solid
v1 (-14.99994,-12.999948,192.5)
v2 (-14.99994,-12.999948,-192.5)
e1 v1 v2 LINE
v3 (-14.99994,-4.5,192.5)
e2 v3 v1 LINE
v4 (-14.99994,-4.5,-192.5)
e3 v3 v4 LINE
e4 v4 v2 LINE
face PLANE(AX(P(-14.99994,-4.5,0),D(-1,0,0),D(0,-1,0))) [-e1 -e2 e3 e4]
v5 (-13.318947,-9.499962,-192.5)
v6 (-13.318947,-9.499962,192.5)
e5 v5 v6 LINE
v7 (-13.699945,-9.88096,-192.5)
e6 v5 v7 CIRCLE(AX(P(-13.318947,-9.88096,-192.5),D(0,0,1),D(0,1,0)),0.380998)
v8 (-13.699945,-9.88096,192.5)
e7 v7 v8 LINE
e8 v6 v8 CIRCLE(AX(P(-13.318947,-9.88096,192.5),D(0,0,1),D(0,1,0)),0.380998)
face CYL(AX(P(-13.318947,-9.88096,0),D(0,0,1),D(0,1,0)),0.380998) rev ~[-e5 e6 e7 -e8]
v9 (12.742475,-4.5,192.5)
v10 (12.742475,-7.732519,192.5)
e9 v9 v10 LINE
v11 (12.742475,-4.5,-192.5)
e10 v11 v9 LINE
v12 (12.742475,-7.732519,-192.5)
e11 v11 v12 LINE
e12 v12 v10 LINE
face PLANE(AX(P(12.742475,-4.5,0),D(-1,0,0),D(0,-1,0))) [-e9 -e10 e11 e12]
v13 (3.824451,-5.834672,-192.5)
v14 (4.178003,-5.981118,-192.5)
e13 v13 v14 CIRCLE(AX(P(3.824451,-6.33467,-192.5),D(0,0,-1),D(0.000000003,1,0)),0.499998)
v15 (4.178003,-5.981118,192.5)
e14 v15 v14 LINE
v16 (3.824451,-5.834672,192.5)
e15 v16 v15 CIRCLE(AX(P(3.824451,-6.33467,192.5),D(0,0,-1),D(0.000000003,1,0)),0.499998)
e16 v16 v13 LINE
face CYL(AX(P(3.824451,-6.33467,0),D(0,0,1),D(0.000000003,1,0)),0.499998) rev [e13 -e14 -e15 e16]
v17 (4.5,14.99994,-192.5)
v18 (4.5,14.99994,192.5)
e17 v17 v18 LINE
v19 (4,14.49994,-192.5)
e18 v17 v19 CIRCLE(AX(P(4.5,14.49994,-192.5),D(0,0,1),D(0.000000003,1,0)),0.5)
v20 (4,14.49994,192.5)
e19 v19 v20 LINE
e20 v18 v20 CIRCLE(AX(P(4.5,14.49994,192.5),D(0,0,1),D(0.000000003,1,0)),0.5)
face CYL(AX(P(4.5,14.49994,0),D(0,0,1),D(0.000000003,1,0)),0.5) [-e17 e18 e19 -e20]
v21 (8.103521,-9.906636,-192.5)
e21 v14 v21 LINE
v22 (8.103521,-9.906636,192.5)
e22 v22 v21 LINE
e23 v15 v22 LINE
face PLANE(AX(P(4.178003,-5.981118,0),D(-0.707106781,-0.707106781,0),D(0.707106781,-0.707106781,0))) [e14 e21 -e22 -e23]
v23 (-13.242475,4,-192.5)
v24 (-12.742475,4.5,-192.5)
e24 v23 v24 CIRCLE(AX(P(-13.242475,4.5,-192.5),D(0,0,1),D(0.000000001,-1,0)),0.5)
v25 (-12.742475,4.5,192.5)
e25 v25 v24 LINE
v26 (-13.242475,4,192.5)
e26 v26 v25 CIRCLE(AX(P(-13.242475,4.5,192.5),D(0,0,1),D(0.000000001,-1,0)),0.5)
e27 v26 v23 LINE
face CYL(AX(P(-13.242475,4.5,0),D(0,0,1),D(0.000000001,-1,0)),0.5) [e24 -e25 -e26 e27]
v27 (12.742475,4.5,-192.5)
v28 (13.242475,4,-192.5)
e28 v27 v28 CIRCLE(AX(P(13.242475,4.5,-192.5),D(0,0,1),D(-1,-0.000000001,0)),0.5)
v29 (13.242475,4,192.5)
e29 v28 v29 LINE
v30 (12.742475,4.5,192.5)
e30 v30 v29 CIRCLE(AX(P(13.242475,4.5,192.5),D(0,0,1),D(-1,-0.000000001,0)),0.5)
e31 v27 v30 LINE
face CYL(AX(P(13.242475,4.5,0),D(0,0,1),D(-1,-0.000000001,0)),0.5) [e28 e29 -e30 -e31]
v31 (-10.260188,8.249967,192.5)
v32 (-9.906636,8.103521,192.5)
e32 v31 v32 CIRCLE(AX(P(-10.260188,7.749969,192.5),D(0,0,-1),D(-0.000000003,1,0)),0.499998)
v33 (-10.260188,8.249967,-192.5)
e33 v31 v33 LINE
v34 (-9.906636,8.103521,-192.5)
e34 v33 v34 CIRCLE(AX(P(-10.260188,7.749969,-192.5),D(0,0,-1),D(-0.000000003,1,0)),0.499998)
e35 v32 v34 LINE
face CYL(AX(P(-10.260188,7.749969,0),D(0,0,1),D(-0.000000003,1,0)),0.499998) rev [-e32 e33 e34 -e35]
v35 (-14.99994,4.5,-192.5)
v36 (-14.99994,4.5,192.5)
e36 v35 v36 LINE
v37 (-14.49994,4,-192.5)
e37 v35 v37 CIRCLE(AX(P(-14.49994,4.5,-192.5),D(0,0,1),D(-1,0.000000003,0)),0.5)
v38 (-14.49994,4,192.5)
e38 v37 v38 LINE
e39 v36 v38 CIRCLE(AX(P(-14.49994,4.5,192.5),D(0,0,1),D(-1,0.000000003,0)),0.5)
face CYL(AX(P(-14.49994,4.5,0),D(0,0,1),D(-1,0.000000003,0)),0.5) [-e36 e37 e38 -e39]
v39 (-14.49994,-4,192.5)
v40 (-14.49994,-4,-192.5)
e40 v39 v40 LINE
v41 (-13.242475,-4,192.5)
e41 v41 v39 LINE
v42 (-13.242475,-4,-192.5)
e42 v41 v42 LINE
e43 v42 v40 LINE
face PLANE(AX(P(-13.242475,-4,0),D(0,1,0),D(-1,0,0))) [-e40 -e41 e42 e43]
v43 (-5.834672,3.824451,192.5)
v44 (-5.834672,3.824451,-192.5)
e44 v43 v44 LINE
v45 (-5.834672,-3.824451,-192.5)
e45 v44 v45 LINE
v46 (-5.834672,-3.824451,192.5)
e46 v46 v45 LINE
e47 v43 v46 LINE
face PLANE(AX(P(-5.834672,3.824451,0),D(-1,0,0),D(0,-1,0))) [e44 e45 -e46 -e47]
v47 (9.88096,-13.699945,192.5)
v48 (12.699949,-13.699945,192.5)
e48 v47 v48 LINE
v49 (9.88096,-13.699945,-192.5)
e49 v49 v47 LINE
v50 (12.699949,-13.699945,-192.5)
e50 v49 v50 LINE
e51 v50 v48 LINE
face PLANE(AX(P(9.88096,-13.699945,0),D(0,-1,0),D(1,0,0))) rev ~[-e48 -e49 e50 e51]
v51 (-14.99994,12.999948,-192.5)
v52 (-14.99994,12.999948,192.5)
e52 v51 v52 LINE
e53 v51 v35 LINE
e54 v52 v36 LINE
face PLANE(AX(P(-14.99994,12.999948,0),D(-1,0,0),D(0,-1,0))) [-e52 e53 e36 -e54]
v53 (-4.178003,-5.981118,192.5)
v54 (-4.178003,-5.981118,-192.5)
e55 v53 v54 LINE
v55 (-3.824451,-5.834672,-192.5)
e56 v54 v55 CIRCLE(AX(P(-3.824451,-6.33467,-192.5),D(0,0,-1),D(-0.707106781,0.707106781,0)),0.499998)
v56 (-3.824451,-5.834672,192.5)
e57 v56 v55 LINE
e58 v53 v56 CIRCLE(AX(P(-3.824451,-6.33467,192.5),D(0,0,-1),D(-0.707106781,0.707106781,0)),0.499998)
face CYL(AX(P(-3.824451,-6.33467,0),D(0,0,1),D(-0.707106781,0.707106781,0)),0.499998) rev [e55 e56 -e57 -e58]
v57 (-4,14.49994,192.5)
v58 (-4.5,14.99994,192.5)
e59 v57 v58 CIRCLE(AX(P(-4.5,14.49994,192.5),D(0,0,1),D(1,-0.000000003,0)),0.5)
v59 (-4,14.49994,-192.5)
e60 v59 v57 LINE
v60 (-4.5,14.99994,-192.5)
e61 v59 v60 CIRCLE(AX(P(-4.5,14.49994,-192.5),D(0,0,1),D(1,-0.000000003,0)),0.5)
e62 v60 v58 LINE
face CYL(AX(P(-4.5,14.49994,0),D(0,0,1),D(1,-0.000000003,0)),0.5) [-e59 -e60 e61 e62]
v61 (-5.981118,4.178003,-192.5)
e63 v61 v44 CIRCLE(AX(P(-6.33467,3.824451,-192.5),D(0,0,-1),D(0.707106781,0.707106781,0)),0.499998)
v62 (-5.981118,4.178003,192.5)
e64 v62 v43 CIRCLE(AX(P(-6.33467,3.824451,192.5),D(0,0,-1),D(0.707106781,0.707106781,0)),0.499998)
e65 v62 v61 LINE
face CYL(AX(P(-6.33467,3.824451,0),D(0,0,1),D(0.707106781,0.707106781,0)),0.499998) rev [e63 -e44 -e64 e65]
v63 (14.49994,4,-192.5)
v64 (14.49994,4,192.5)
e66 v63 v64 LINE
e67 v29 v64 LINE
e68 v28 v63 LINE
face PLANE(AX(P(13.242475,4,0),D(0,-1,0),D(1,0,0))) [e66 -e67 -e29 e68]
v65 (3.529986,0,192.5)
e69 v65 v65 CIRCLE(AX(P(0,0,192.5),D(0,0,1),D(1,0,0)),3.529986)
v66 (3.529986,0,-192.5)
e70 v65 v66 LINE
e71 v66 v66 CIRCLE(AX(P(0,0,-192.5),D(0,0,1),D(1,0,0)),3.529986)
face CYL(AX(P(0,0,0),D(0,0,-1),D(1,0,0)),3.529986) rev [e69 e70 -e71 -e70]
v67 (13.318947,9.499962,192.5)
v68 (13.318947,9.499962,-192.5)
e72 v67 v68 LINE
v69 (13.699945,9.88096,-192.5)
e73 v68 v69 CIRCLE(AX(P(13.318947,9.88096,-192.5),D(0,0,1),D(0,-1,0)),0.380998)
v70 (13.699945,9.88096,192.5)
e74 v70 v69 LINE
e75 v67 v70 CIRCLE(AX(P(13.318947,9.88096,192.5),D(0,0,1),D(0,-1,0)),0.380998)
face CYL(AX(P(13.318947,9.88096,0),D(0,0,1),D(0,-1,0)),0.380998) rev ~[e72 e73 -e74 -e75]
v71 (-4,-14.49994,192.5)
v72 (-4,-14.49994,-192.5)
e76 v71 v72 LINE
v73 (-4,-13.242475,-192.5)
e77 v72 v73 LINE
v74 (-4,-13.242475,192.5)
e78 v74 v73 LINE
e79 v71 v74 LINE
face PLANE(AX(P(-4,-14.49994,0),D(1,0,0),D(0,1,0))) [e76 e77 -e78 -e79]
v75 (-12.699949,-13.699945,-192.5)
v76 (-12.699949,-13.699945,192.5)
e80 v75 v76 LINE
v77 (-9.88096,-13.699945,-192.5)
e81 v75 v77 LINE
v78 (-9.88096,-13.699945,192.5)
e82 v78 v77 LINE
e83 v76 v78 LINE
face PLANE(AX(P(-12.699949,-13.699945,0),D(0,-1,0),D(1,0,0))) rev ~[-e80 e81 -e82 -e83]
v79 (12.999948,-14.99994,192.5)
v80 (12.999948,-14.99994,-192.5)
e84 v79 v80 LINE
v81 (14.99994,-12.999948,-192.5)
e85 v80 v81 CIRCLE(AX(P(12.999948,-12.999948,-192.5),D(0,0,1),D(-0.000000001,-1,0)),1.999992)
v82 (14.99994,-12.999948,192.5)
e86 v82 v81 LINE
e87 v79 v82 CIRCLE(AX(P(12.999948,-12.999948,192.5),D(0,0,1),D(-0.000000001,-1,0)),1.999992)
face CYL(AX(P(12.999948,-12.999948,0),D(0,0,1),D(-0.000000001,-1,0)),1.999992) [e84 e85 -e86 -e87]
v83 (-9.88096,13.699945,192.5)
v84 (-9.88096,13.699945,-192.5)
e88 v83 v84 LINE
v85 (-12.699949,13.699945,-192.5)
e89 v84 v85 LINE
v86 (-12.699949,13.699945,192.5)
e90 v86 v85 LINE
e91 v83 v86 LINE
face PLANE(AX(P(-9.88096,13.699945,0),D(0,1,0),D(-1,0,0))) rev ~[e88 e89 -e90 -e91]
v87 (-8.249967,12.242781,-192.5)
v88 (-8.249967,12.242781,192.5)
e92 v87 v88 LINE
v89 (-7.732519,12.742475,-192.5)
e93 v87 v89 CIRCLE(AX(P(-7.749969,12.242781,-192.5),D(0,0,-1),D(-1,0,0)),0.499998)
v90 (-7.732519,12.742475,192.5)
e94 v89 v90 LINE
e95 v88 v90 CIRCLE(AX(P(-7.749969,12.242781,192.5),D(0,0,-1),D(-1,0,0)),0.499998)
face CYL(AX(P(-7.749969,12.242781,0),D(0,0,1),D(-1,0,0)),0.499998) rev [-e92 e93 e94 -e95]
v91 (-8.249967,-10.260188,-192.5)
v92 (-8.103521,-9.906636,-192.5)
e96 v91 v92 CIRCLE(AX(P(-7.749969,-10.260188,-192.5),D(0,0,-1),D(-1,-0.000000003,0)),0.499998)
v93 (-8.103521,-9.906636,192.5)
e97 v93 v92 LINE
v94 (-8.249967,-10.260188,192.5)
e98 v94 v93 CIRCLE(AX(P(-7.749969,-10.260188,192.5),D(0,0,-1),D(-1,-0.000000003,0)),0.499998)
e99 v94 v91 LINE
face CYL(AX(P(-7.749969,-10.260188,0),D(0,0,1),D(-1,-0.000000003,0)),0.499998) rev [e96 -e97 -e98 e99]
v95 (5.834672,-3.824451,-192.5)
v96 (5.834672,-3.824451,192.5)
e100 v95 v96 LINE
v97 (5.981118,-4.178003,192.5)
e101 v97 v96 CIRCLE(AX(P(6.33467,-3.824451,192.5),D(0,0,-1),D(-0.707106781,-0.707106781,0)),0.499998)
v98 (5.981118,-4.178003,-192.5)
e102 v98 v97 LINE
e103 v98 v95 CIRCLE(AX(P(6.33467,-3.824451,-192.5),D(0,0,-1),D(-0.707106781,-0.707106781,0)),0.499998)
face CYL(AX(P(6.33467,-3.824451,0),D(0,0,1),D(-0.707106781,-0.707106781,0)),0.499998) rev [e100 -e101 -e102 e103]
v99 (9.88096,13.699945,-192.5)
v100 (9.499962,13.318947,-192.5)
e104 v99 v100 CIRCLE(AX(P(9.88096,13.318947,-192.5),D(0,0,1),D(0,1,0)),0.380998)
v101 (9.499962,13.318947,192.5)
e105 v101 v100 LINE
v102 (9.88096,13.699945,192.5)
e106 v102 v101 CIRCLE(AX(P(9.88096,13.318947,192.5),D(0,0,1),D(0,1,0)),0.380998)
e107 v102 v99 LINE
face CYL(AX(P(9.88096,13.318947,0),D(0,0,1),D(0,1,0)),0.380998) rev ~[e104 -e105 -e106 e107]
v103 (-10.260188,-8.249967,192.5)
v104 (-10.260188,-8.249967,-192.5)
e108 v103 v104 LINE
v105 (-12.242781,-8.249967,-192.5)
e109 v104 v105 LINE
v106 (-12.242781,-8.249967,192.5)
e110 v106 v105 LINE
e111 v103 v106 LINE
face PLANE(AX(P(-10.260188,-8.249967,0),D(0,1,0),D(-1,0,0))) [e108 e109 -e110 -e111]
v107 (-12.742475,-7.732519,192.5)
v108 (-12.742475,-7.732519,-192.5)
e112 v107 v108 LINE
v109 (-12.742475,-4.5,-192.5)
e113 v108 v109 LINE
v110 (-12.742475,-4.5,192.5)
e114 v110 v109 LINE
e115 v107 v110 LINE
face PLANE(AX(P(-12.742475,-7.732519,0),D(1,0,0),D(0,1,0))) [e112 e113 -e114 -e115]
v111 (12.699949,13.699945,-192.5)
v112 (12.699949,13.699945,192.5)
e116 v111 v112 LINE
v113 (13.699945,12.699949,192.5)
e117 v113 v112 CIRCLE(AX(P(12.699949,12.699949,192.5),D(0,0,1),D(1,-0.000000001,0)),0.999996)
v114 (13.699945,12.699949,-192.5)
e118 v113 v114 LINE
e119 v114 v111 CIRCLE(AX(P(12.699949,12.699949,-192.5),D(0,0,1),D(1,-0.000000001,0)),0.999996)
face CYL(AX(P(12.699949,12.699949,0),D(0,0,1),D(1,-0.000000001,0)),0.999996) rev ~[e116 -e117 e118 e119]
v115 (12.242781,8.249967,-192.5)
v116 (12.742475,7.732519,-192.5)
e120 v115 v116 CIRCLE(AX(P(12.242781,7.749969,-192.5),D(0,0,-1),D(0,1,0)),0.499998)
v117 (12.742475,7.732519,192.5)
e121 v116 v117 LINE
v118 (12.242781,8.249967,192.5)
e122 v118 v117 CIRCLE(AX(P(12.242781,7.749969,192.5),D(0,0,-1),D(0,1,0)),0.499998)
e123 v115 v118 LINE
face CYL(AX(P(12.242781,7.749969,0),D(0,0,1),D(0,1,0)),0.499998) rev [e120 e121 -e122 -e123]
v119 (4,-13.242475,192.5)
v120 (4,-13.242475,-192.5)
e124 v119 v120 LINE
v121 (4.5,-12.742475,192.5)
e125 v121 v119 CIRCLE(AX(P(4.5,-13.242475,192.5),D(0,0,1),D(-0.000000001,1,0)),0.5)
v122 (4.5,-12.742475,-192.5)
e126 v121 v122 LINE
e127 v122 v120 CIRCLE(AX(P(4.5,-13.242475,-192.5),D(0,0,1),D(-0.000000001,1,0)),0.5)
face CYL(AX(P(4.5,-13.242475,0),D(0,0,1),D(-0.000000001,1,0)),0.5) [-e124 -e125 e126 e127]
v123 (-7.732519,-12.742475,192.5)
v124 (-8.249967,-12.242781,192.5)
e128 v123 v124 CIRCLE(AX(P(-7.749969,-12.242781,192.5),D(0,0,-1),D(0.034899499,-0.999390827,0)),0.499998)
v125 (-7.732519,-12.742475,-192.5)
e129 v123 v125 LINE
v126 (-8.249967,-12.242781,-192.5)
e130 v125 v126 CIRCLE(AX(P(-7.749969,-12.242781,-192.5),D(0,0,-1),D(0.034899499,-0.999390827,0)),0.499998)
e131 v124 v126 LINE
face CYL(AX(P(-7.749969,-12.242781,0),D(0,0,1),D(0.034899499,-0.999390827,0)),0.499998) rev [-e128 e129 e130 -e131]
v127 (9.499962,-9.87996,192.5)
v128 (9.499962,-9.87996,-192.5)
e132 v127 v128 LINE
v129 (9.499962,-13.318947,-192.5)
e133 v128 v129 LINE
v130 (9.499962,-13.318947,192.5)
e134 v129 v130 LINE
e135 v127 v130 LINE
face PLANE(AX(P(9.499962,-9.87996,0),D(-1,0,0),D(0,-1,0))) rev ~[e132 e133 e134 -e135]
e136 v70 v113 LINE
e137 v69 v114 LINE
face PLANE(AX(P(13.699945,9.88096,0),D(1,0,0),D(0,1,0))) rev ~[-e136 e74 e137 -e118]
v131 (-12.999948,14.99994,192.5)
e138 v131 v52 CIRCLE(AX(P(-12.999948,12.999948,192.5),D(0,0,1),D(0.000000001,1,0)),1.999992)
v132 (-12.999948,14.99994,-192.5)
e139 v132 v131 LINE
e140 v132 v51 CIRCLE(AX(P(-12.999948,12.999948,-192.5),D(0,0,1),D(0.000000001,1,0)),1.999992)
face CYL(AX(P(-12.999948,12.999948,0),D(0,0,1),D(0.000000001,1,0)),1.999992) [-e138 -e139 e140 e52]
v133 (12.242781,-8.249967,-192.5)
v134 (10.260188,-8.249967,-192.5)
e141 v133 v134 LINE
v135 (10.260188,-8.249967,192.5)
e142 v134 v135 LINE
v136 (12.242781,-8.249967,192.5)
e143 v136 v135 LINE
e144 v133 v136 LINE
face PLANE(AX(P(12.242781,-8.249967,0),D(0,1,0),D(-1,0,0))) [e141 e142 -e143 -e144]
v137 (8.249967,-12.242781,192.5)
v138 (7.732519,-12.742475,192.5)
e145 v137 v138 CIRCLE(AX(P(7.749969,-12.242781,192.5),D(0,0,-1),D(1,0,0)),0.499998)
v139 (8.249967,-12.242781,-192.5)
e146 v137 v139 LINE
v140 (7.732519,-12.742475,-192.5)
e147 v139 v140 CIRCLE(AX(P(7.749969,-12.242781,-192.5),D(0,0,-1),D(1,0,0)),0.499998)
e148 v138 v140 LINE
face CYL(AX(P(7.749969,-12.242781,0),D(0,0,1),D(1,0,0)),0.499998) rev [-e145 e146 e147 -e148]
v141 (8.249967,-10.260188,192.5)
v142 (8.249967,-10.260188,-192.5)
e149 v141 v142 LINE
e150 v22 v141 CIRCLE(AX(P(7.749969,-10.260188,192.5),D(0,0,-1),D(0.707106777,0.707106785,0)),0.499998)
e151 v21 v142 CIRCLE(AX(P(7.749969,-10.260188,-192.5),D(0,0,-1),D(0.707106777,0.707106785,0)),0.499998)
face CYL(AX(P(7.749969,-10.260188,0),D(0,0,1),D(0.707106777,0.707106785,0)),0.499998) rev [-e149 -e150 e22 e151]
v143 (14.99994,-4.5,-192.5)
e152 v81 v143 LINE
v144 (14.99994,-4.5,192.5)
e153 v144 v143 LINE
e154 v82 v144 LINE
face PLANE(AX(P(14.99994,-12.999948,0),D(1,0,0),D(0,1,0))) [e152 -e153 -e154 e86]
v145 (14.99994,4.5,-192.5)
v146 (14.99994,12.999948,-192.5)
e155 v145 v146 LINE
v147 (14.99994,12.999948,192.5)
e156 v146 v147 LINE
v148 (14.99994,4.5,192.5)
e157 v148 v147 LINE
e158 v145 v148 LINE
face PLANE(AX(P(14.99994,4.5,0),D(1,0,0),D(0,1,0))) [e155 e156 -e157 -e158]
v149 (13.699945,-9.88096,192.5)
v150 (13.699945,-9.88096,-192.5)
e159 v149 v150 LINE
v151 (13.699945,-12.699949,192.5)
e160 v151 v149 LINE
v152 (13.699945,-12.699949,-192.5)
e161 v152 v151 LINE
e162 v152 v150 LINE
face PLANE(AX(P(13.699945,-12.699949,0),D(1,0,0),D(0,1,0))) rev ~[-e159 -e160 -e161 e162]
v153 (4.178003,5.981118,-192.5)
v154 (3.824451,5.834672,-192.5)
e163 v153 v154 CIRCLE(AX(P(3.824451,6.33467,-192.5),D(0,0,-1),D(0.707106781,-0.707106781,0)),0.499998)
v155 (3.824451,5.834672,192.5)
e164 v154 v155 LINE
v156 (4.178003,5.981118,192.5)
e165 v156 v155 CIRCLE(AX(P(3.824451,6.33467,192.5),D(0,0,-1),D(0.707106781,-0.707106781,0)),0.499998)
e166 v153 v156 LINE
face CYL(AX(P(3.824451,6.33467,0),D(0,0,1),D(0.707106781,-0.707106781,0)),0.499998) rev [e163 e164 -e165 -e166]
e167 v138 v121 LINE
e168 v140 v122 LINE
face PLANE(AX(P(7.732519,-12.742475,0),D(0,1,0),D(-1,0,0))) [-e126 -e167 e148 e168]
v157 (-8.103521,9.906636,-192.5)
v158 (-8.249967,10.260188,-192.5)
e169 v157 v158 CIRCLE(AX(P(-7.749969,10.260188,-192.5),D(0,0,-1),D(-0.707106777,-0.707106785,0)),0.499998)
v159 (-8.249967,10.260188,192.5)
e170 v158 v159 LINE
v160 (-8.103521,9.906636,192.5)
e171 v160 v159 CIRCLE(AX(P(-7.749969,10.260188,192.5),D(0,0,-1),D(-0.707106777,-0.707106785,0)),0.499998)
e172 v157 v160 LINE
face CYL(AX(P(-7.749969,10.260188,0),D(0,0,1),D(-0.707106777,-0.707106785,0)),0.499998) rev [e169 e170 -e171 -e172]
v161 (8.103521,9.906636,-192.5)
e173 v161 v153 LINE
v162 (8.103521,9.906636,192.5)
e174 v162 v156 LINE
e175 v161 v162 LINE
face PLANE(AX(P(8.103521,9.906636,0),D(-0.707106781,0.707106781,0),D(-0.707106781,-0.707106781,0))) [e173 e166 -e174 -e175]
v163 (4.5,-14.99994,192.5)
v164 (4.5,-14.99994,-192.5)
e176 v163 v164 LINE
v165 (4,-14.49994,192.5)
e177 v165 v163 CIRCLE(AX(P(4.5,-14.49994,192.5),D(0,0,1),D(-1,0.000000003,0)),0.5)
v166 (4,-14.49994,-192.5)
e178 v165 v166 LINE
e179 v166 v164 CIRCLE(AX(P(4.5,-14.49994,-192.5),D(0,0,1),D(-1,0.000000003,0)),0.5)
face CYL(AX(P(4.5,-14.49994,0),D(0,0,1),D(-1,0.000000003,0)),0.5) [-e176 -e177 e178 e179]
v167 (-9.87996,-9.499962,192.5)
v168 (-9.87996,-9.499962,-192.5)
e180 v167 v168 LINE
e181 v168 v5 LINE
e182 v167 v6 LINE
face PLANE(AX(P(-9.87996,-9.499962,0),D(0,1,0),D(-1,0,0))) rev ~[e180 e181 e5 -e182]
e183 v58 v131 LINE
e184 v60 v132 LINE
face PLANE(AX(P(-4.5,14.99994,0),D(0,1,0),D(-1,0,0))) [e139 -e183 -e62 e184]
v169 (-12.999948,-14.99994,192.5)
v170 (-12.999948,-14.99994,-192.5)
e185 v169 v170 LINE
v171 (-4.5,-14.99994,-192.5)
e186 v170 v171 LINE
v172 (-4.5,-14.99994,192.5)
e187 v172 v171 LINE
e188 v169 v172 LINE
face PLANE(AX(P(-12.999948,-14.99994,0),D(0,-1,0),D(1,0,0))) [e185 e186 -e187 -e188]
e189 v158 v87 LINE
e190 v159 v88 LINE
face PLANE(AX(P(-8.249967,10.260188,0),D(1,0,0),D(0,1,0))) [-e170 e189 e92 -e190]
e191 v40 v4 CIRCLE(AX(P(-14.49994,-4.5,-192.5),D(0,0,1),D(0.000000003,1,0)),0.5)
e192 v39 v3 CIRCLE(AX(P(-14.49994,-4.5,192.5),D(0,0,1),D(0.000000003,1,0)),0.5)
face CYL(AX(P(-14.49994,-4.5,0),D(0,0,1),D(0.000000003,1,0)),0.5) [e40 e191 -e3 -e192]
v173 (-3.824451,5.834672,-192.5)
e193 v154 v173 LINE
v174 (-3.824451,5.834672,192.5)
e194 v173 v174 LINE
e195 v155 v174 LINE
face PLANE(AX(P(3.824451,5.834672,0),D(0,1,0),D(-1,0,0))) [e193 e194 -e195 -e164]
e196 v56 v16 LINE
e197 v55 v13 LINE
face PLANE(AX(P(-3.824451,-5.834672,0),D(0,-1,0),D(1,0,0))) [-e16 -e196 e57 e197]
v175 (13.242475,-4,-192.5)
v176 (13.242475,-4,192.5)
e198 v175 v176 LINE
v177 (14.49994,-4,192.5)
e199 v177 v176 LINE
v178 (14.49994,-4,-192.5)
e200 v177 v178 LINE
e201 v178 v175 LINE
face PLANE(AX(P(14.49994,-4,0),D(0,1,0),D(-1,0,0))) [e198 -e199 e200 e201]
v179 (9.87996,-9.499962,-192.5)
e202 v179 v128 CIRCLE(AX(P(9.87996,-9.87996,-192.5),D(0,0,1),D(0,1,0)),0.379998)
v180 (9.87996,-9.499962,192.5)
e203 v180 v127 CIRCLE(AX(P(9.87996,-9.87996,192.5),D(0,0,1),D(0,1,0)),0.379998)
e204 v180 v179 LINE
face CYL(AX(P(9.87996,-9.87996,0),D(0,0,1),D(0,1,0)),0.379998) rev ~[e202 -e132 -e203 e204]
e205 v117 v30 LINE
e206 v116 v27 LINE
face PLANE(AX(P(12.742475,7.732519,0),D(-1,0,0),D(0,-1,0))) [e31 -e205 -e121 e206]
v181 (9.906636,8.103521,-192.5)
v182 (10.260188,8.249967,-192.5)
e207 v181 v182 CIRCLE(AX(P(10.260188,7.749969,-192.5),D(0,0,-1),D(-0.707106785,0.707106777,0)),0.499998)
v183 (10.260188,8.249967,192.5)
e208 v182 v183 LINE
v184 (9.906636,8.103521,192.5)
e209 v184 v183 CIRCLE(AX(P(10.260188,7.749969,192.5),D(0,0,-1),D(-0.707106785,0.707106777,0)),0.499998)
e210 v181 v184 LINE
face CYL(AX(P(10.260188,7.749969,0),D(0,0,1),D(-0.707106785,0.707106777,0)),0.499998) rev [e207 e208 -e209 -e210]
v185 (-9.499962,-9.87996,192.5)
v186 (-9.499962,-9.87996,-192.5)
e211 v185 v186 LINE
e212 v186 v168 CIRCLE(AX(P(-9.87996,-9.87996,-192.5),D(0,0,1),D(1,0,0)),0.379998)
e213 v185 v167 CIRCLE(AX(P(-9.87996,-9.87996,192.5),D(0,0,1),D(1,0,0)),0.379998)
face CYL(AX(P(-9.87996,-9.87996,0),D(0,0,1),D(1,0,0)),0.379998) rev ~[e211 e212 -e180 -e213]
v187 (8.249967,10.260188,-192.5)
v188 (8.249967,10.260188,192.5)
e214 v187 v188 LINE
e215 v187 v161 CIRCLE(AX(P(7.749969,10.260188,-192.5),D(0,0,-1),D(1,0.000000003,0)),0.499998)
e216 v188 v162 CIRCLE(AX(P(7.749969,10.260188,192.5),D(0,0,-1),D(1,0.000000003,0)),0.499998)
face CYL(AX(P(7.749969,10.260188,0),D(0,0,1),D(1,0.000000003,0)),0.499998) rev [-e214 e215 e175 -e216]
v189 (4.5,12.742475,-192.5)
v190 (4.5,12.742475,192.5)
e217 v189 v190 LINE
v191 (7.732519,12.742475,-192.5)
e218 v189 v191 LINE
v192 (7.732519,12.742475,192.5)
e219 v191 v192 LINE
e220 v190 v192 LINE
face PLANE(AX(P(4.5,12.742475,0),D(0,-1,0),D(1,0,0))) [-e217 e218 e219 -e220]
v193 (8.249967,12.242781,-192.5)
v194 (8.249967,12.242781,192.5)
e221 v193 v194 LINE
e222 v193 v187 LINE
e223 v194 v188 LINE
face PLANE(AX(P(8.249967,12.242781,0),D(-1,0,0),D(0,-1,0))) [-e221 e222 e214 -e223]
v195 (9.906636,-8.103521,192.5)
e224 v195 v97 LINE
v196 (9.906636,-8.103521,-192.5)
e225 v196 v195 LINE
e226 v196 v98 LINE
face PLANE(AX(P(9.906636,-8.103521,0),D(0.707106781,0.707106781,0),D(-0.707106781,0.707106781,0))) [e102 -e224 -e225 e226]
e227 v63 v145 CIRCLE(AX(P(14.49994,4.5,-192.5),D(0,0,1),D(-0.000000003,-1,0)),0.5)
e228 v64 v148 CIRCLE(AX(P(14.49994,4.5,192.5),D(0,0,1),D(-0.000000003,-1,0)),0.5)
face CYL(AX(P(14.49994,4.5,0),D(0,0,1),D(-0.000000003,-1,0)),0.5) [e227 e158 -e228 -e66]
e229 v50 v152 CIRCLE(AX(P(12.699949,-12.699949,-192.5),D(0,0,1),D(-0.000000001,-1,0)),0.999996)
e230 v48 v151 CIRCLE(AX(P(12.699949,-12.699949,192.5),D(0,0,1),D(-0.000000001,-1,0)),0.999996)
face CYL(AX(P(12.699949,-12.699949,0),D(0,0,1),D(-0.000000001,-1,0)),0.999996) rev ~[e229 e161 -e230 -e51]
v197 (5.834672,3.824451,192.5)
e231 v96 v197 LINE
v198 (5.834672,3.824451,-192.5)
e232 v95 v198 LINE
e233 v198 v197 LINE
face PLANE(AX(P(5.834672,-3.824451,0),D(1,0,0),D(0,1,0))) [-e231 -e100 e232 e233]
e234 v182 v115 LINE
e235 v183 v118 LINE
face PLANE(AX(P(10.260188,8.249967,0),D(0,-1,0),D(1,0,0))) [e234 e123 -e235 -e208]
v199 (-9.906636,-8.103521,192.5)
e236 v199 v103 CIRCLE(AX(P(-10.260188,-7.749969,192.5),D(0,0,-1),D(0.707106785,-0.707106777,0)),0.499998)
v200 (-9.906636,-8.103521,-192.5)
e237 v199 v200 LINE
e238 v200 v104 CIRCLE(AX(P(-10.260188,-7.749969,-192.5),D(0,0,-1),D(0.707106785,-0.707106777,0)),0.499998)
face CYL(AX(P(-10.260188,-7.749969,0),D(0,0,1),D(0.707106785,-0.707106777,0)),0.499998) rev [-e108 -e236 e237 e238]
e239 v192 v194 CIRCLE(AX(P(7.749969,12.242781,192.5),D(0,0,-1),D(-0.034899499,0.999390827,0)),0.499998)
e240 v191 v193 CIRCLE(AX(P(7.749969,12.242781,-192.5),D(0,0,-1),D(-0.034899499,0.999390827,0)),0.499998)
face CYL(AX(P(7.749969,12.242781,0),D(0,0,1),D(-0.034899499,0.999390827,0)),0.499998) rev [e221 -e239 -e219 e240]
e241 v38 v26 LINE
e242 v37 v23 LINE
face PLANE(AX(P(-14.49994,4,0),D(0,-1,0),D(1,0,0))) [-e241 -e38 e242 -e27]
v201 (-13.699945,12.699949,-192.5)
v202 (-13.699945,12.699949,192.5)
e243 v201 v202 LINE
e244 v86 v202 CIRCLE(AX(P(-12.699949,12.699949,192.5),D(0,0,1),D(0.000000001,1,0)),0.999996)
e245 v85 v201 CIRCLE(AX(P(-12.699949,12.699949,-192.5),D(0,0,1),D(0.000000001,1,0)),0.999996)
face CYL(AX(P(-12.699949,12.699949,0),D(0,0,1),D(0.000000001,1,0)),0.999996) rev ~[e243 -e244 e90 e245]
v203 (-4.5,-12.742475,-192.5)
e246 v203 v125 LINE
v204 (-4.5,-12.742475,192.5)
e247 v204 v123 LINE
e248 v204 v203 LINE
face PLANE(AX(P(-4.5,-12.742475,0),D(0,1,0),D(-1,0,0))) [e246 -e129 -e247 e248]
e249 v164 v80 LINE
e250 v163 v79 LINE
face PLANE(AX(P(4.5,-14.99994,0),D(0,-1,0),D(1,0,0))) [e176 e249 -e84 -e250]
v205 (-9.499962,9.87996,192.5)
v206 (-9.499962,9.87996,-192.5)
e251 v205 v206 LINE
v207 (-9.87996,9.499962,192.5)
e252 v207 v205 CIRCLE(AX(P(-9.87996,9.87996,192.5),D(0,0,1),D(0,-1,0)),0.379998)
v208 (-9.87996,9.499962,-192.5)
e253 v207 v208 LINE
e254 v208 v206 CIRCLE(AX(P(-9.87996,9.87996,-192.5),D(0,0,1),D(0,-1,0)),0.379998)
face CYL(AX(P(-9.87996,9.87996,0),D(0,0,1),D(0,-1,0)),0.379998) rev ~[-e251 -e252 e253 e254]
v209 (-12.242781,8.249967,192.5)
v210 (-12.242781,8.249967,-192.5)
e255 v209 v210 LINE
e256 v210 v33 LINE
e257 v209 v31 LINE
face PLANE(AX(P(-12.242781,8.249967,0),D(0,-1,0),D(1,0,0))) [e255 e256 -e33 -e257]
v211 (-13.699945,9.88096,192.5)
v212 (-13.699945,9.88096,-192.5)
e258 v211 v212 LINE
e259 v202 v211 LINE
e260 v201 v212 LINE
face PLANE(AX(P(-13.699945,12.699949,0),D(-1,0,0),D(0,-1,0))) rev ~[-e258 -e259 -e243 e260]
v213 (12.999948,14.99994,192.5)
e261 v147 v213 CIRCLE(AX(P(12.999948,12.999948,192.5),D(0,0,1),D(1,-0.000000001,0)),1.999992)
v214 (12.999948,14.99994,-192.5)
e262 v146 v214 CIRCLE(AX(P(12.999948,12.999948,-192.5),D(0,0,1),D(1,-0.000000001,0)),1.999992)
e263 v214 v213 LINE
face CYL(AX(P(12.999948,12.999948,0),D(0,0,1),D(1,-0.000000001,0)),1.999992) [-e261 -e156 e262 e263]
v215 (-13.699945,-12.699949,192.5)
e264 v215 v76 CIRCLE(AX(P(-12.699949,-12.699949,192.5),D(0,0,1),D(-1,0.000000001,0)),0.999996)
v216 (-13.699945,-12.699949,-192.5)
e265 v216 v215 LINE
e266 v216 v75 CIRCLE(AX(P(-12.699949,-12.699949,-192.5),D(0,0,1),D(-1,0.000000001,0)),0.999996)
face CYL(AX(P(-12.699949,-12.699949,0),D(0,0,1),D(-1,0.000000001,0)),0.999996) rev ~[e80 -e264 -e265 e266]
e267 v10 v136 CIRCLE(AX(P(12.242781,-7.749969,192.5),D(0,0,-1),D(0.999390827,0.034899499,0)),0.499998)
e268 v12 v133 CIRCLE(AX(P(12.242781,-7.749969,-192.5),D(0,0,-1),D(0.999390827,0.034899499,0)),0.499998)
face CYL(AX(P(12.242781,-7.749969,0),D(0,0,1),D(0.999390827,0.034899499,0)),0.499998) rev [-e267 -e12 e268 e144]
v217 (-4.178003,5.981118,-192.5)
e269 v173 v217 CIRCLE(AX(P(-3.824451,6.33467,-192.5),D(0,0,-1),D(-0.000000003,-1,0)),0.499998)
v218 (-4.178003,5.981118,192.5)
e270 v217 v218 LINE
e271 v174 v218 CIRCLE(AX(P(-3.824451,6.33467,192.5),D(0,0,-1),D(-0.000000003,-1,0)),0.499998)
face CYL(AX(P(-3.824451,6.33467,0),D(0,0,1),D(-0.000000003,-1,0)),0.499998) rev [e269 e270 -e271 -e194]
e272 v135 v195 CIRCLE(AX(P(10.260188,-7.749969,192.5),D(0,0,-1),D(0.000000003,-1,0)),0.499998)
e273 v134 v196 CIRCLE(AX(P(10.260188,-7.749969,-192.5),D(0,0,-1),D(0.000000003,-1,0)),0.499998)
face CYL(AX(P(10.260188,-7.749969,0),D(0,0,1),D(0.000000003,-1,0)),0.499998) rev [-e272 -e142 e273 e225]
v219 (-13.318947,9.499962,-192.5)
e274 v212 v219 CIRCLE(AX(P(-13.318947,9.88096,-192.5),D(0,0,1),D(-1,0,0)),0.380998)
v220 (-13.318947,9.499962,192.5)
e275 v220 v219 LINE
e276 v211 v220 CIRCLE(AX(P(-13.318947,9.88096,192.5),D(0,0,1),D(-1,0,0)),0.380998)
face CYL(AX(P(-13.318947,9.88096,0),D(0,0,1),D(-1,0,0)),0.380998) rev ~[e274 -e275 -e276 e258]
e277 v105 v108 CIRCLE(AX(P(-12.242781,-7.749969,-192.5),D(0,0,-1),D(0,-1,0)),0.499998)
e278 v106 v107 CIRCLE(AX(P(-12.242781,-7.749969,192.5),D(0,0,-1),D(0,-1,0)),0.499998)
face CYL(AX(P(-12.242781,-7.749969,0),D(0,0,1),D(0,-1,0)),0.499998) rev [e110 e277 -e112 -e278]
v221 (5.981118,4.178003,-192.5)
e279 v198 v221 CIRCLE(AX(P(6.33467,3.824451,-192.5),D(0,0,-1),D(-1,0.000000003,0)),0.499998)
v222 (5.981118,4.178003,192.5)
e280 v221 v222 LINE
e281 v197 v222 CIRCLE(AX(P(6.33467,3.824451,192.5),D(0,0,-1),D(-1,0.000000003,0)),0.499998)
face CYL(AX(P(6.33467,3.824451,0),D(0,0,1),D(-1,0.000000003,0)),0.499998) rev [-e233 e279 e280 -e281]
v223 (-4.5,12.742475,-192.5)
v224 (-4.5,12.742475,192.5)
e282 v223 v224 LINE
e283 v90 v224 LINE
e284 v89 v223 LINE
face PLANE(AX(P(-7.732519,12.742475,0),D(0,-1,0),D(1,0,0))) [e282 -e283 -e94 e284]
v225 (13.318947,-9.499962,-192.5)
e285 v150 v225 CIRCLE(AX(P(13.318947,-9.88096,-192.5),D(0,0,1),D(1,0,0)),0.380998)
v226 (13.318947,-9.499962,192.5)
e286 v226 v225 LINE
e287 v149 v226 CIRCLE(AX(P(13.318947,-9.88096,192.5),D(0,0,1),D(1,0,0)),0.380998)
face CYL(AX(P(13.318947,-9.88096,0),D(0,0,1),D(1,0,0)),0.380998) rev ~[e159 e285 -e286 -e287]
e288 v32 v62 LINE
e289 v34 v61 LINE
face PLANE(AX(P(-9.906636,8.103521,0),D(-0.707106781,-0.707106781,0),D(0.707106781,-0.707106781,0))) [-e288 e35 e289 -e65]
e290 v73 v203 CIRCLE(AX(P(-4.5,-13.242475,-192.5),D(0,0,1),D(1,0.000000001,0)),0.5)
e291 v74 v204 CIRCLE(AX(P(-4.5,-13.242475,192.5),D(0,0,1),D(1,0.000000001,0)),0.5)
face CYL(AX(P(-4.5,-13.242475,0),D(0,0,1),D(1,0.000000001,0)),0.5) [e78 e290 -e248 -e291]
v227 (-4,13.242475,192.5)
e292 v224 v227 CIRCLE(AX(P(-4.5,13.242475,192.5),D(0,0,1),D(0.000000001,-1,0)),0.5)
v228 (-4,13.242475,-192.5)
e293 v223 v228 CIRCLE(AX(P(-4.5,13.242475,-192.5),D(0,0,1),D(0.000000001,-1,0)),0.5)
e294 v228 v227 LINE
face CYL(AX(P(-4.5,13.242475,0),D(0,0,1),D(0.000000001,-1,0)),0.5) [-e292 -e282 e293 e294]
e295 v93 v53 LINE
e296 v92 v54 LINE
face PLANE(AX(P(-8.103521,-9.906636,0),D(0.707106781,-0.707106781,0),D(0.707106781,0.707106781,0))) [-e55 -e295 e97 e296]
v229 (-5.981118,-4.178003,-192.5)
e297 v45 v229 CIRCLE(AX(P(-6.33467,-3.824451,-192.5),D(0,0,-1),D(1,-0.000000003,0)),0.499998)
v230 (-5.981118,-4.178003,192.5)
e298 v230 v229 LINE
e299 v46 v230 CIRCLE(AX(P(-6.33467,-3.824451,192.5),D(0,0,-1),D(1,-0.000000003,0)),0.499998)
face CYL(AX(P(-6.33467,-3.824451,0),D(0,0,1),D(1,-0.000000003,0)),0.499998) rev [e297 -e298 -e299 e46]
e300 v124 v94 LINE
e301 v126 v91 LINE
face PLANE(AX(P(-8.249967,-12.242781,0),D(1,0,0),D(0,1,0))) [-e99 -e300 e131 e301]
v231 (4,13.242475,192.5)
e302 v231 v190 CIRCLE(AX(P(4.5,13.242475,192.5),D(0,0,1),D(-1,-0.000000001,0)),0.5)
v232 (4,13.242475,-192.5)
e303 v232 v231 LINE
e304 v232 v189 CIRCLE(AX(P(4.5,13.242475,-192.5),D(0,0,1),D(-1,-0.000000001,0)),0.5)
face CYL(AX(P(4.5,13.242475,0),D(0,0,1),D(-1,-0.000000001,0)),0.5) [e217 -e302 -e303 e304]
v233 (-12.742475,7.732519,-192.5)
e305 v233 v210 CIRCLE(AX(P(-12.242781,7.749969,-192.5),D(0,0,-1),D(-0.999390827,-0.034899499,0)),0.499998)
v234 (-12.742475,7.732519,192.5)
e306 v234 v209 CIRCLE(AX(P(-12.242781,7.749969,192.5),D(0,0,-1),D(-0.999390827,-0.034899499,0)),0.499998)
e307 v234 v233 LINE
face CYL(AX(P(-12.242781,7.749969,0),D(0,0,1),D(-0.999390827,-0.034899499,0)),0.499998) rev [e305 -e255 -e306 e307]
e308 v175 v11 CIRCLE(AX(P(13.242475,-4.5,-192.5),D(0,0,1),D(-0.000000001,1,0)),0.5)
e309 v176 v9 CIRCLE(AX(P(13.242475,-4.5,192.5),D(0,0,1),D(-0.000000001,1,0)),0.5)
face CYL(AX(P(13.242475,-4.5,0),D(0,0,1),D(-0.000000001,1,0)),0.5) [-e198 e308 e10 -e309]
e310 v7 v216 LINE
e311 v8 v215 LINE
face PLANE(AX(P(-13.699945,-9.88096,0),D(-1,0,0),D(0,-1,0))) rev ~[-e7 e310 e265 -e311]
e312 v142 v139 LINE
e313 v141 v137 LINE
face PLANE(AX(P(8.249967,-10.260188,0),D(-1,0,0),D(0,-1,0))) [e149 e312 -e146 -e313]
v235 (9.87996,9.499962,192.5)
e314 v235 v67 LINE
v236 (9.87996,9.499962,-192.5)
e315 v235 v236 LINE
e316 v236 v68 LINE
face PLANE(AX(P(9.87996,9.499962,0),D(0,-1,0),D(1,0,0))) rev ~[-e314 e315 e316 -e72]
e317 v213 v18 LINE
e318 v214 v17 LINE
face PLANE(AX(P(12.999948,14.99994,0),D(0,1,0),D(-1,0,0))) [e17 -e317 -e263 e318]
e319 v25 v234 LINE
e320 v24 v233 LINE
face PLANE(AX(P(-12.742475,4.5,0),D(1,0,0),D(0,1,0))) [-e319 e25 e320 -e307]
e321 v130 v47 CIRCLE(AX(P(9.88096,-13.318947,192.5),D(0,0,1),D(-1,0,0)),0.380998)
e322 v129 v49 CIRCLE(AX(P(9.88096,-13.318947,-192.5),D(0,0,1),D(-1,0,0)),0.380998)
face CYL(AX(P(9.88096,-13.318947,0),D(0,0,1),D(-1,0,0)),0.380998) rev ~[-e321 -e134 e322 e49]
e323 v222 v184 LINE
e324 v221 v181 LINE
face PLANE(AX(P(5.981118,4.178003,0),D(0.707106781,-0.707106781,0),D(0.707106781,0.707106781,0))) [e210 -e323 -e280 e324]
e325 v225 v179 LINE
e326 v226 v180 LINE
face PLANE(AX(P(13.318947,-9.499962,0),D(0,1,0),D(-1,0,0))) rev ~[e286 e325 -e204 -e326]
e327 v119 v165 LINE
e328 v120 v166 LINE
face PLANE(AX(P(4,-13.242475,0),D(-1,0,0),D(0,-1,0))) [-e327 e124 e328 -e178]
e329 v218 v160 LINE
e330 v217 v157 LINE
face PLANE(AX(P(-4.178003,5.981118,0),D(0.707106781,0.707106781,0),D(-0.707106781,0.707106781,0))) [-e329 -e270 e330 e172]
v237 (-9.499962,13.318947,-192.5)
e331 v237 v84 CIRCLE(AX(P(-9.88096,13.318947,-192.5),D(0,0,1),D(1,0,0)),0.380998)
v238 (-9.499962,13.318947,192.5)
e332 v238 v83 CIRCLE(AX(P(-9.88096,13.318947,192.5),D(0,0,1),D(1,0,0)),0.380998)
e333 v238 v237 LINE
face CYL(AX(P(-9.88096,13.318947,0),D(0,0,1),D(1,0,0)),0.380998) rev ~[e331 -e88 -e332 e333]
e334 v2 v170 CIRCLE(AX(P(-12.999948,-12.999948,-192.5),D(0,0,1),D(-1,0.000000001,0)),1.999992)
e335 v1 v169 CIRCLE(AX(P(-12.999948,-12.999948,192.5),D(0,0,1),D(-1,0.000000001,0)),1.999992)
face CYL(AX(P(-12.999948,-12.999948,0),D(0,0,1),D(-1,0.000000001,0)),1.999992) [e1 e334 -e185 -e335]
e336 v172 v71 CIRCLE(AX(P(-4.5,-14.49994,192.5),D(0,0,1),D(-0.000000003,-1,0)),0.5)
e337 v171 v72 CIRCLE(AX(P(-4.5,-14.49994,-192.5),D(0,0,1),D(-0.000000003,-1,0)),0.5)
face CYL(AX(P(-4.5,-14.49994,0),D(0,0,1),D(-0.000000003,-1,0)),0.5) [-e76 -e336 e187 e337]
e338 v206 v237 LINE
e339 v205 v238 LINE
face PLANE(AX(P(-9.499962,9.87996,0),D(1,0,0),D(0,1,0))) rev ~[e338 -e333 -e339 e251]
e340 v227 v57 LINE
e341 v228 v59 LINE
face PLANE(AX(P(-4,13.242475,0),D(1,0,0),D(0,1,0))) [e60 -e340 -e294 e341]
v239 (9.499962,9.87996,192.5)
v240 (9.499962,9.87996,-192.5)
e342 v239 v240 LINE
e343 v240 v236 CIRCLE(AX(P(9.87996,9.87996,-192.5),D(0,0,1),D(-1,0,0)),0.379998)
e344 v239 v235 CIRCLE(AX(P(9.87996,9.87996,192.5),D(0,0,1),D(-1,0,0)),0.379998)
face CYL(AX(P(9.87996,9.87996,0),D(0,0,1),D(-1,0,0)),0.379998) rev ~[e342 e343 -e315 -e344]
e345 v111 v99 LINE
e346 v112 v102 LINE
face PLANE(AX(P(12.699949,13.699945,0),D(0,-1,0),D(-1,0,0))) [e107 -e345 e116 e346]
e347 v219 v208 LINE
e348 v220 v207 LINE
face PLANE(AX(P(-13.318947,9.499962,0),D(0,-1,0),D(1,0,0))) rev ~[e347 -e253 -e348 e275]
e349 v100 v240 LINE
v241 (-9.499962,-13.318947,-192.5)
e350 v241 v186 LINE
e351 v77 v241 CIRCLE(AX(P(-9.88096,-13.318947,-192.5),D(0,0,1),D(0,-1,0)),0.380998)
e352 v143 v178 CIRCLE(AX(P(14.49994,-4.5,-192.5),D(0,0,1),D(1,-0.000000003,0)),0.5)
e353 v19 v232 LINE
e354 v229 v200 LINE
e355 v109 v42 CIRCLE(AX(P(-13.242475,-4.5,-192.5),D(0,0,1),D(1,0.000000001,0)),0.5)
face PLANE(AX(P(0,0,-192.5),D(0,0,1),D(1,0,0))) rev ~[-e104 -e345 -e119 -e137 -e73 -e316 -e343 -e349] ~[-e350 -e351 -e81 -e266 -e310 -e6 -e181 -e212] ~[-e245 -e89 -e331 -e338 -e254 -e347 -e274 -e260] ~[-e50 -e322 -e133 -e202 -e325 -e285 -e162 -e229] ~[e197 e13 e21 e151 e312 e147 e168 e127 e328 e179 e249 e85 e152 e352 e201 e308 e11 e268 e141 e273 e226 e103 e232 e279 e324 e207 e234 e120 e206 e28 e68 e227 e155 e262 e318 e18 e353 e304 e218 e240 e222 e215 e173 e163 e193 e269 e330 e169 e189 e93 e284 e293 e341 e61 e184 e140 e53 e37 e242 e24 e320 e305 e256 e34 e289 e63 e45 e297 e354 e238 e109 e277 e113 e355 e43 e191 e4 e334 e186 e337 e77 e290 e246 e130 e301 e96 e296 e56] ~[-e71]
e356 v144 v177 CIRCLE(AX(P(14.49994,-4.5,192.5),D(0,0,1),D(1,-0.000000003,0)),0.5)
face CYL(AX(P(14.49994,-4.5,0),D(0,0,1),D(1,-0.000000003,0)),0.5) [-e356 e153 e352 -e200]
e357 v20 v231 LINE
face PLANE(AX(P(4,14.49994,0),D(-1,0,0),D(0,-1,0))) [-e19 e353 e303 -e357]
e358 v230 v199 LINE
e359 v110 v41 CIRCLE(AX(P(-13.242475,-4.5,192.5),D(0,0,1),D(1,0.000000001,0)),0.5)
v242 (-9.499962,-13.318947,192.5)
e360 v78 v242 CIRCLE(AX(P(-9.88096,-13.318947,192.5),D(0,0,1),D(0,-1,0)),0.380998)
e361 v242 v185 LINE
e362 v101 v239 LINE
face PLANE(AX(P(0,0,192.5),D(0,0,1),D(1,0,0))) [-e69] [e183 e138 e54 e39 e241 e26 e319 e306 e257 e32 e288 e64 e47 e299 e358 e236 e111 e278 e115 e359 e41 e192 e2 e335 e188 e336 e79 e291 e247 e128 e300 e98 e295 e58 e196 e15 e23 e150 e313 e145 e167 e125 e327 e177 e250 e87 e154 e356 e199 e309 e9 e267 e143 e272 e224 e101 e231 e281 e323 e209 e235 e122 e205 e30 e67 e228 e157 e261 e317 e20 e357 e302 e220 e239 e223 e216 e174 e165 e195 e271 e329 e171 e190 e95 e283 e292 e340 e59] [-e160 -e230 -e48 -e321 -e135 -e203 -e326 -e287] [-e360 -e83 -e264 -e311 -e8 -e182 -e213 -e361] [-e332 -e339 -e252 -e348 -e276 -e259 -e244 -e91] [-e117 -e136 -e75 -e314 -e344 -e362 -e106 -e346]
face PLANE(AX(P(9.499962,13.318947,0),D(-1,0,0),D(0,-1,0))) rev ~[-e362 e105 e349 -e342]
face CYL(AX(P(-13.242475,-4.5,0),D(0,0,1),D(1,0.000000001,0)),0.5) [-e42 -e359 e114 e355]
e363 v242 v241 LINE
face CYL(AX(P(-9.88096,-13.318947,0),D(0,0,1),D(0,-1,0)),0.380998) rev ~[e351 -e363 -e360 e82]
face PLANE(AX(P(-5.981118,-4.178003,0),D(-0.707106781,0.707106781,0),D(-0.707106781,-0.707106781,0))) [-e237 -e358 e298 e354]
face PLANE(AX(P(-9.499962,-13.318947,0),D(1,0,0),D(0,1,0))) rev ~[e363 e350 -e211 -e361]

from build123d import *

# Parameters (mm, degrees)
SKETCH1_R           = 3.52998588
BOSS_EXTRUDE1_DEPTH = 192.5


with BuildPart() as part:
    # Sketch1 → Boss-Extrude1 (new body, symmetric)
    with BuildSketch(Plane.XY):
        with BuildLine():
            Line((14.49994, -4), (13.24247465, -4))
            ThreePointArc((13.24247465, -4), (12.88892126, -4.146446609), (12.74247465, -4.5))
            Line((12.74247465, -4.5), (12.74247465, -7.732519321))
            ThreePointArc((12.74247465, -7.732519321), (12.602449697, -8.097296796), (12.242781236, -8.249967))
            Line((12.242781236, -8.249967), (10.260188032, -8.249967))
            ThreePointArc((10.260188032, -8.249967), (10.068847082, -8.211906919), (9.906636056, -8.103520976))
            Line((9.906636056, -8.103520976), (5.981117769, -4.178002689))
            ThreePointArc((5.981117769, -4.178002689), (5.872731827, -4.015791664), (5.834671745, -3.824450713))
            Line((5.834671745, -3.824450713), (5.834671745, -1.01249595))
            Line((5.834671745, -1.01249595), (5.834671745, 0.88749645))
            Line((5.834671745, 0.88749645), (5.834671745, 3.824450713))
            ThreePointArc((5.834671745, 3.824450713), (5.872731827, 4.015791664), (5.981117769, 4.178002689))
            Line((5.981117769, 4.178002689), (9.906636056, 8.103520976))
            ThreePointArc((9.906636056, 8.103520976), (10.068847082, 8.211906919), (10.260188032, 8.249967))
            Line((10.260188032, 8.249967), (12.242781236, 8.249967))
            ThreePointArc((12.242781236, 8.249967), (12.602449697, 8.097296796), (12.74247465, 7.732519321))
            Line((12.74247465, 7.732519321), (12.74247465, 4.5))
            ThreePointArc((12.74247465, 4.5), (12.88892126, 4.146446609), (13.24247465, 4))
            Line((13.24247465, 4), (14.49994, 4))
            ThreePointArc((14.49994, 4), (14.853493391, 4.146446609), (14.99994, 4.5))
            Line((14.99994, 4.5), (14.99994, 12.999948))
            ThreePointArc((14.99994, 12.999948), (14.414155906, 14.414155906), (12.999948, 14.99994))
            Line((12.999948, 14.99994), (4.5, 14.99994))
            ThreePointArc((4.5, 14.99994), (4.146446609, 14.853493391), (4, 14.49994))
            Line((4, 14.49994), (4, 13.24247465))
            ThreePointArc((4, 13.24247465), (4.146446609, 12.88892126), (4.5, 12.74247465))
            Line((4.5, 12.74247465), (7.732519321, 12.74247465))
            ThreePointArc((7.732519321, 12.74247465), (8.097296796, 12.602449697), (8.249967, 12.242781236))
            Line((8.249967, 12.242781236), (8.249967, 10.260188032))
            ThreePointArc((8.249967, 10.260188032), (8.211906919, 10.068847082), (8.103520976, 9.906636056))
            Line((8.103520976, 9.906636056), (4.178002689, 5.981117769))
            ThreePointArc((4.178002689, 5.981117769), (4.015791664, 5.872731827), (3.824450713, 5.834671745))
            Line((3.824450713, 5.834671745), (0.9499962, 5.834671745))
            Line((0.9499962, 5.834671745), (-0.9499962, 5.834671745))
            Line((-0.9499962, 5.834671745), (-3.824450713, 5.834671745))
            ThreePointArc((-3.824450713, 5.834671745), (-4.015791664, 5.872731827), (-4.178002689, 5.981117769))
            Line((-4.178002689, 5.981117769), (-8.103520976, 9.906636056))
            ThreePointArc((-8.103520976, 9.906636056), (-8.211906919, 10.068847082), (-8.249967, 10.260188032))
            Line((-8.249967, 10.260188032), (-8.249967, 12.242781236))
            ThreePointArc((-8.249967, 12.242781236), (-8.097296796, 12.602449697), (-7.732519321, 12.74247465))
            Line((-7.732519321, 12.74247465), (-4.5, 12.74247465))
            ThreePointArc((-4.5, 12.74247465), (-4.146446609, 12.88892126), (-4, 13.24247465))
            Line((-4, 13.24247465), (-4, 14.49994))
            ThreePointArc((-4, 14.49994), (-4.146446609, 14.853493391), (-4.5, 14.99994))
            Line((-4.5, 14.99994), (-12.999948, 14.99994))
            ThreePointArc((-12.999948, 14.99994), (-14.414155906, 14.414155906), (-14.99994, 12.999948))
            Line((-14.99994, 12.999948), (-14.99994, 4.5))
            ThreePointArc((-14.99994, 4.5), (-14.853493391, 4.146446609), (-14.49994, 4))
            Line((-14.49994, 4), (-13.24247465, 4))
            ThreePointArc((-13.24247465, 4), (-12.88892126, 4.146446609), (-12.74247465, 4.5))
            Line((-12.74247465, 4.5), (-12.74247465, 7.732519321))
            ThreePointArc((-12.74247465, 7.732519321), (-12.602449697, 8.097296796), (-12.242781236, 8.249967))
            Line((-12.242781236, 8.249967), (-10.260188032, 8.249967))
            ThreePointArc((-10.260188032, 8.249967), (-10.068847082, 8.211906919), (-9.906636056, 8.103520976))
            Line((-9.906636056, 8.103520976), (-5.981117769, 4.178002689))
            ThreePointArc((-5.981117769, 4.178002689), (-5.872731827, 4.015791664), (-5.834671745, 3.824450713))
            Line((-5.834671745, 3.824450713), (-5.834671745, 0.88749645))
            Line((-5.834671745, 0.88749645), (-5.834671745, -1.01249595))
            Line((-5.834671745, -1.01249595), (-5.834671745, -3.824450713))
            ThreePointArc((-5.834671745, -3.824450713), (-5.872731827, -4.015791664), (-5.981117769, -4.178002689))
            Line((-5.981117769, -4.178002689), (-9.906636056, -8.103520976))
            ThreePointArc((-9.906636056, -8.103520976), (-10.068847082, -8.211906919), (-10.260188032, -8.249967))
            Line((-10.260188032, -8.249967), (-12.242781236, -8.249967))
            ThreePointArc((-12.242781236, -8.249967), (-12.602449697, -8.097296796), (-12.74247465, -7.732519321))
            Line((-12.74247465, -7.732519321), (-12.74247465, -4.5))
            ThreePointArc((-12.74247465, -4.5), (-12.88892126, -4.146446609), (-13.24247465, -4))
            Line((-13.24247465, -4), (-14.49994, -4))
            ThreePointArc((-14.49994, -4), (-14.853493391, -4.146446609), (-14.99994, -4.5))
            Line((-14.99994, -4.5), (-14.99994, -12.999948))
            ThreePointArc((-14.99994, -12.999948), (-14.414155906, -14.414155906), (-12.999948, -14.99994))
            Line((-12.999948, -14.99994), (-4.5, -14.99994))
            ThreePointArc((-4.5, -14.99994), (-4.146446609, -14.853493391), (-4, -14.49994))
            Line((-4, -14.49994), (-4, -13.24247465))
            ThreePointArc((-4, -13.24247465), (-4.146446609, -12.88892126), (-4.5, -12.74247465))
            Line((-4.5, -12.74247465), (-7.732519321, -12.74247465))
            ThreePointArc((-7.732519321, -12.74247465), (-8.097296796, -12.602449697), (-8.249967, -12.242781236))
            Line((-8.249967, -12.242781236), (-8.249967, -10.260188032))
            ThreePointArc((-8.249967, -10.260188032), (-8.211906919, -10.068847082), (-8.103520976, -9.906636056))
            Line((-8.103520976, -9.906636056), (-4.178002689, -5.981117769))
            ThreePointArc((-4.178002689, -5.981117769), (-4.015791664, -5.872731827), (-3.824450713, -5.834671745))
            Line((-3.824450713, -5.834671745), (-0.9499962, -5.834671745))
            Line((-0.9499962, -5.834671745), (0.9499962, -5.834671745))
            Line((0.9499962, -5.834671745), (3.824450713, -5.834671745))
            ThreePointArc((3.824450713, -5.834671745), (4.015791664, -5.872731827), (4.178002689, -5.981117769))
            Line((4.178002689, -5.981117769), (8.103520976, -9.906636056))
            ThreePointArc((8.103520976, -9.906636056), (8.211906919, -10.068847082), (8.249967, -10.260188032))
            Line((8.249967, -10.260188032), (8.249967, -12.242781236))
            ThreePointArc((8.249967, -12.242781236), (8.097296796, -12.602449697), (7.732519321, -12.74247465))
            Line((7.732519321, -12.74247465), (4.5, -12.74247465))
            ThreePointArc((4.5, -12.74247465), (4.146446609, -12.88892126), (4, -13.24247465))
            Line((4, -13.24247465), (4, -14.49994))
            ThreePointArc((4, -14.49994), (4.146446609, -14.853493391), (4.5, -14.99994))
            Line((4.5, -14.99994), (12.999948, -14.99994))
            ThreePointArc((12.999948, -14.99994), (14.414155906, -14.414155906), (14.99994, -12.999948))
            Line((14.99994, -12.999948), (14.99994, -4.5))
            ThreePointArc((14.99994, -4.5), (14.853493391, -4.146446609), (14.49994, -4))
        make_face()
        Circle(SKETCH1_R, mode=Mode.SUBTRACT)
        with BuildLine():
            Line((-12.6999492, -13.6999452), (-9.880960476, -13.6999452))
            ThreePointArc((-9.880960476, -13.6999452), (-9.61155387, -13.58835333), (-9.499962, -13.318946724))
            Line((-9.499962, -13.318946724), (-9.499962, -9.87996048))
            ThreePointArc((-9.499962, -9.87996048), (-9.611260978, -9.611260978), (-9.87996048, -9.499962))
            Line((-9.87996048, -9.499962), (-13.318946724, -9.499962))
            ThreePointArc((-13.318946724, -9.499962), (-13.58835333, -9.61155387), (-13.6999452, -9.880960476))
            Line((-13.6999452, -9.880960476), (-13.6999452, -12.6999492))
            ThreePointArc((-13.6999452, -12.6999492), (-13.407053153, -13.407053153), (-12.6999492, -13.6999452))
        make_face(mode=Mode.SUBTRACT)
        with BuildLine():
            Line((13.6999452, -12.6999492), (13.6999452, -9.880960476))
            ThreePointArc((13.6999452, -9.880960476), (13.58835333, -9.61155387), (13.318946724, -9.499962))
            Line((13.318946724, -9.499962), (9.87996048, -9.499962))
            ThreePointArc((9.87996048, -9.499962), (9.611260978, -9.611260978), (9.499962, -9.87996048))
            Line((9.499962, -9.87996048), (9.499962, -13.318946724))
            ThreePointArc((9.499962, -13.318946724), (9.61155387, -13.58835333), (9.880960476, -13.6999452))
            Line((9.880960476, -13.6999452), (12.6999492, -13.6999452))
            ThreePointArc((12.6999492, -13.6999452), (13.407053153, -13.407053153), (13.6999452, -12.6999492))
        make_face(mode=Mode.SUBTRACT)
        with BuildLine():
            Line((9.87996048, 9.499962), (13.318946724, 9.499962))
            ThreePointArc((13.318946724, 9.499962), (13.58835333, 9.61155387), (13.6999452, 9.880960476))
            Line((13.6999452, 9.880960476), (13.6999452, 12.6999492))
            ThreePointArc((13.6999452, 12.6999492), (13.407053153, 13.407053153), (12.6999492, 13.6999452))
            Line((12.6999492, 13.6999452), (9.880960476, 13.6999452))
            ThreePointArc((9.880960476, 13.6999452), (9.61155387, 13.58835333), (9.499962, 13.318946724))
            Line((9.499962, 13.318946724), (9.499962, 9.87996048))
            ThreePointArc((9.499962, 9.87996048), (9.611260978, 9.611260978), (9.87996048, 9.499962))
        make_face(mode=Mode.SUBTRACT)
        with BuildLine():
            Line((-13.6999452, 12.6999492), (-13.6999452, 9.880960476))
            ThreePointArc((-13.6999452, 9.880960476), (-13.58835333, 9.61155387), (-13.318946724, 9.499962))
            Line((-13.318946724, 9.499962), (-9.87996048, 9.499962))
            ThreePointArc((-9.87996048, 9.499962), (-9.611260978, 9.611260978), (-9.499962, 9.87996048))
            Line((-9.499962, 9.87996048), (-9.499962, 13.318946724))
            ThreePointArc((-9.499962, 13.318946724), (-9.61155387, 13.58835333), (-9.880960476, 13.6999452))
            Line((-9.880960476, 13.6999452), (-12.6999492, 13.6999452))
            ThreePointArc((-12.6999492, 13.6999452), (-13.407053153, 13.407053153), (-13.6999452, 12.6999492))
        make_face(mode=Mode.SUBTRACT)
    extrude(amount=BOSS_EXTRUDE1_DEPTH, both=True)


solid = part.part
